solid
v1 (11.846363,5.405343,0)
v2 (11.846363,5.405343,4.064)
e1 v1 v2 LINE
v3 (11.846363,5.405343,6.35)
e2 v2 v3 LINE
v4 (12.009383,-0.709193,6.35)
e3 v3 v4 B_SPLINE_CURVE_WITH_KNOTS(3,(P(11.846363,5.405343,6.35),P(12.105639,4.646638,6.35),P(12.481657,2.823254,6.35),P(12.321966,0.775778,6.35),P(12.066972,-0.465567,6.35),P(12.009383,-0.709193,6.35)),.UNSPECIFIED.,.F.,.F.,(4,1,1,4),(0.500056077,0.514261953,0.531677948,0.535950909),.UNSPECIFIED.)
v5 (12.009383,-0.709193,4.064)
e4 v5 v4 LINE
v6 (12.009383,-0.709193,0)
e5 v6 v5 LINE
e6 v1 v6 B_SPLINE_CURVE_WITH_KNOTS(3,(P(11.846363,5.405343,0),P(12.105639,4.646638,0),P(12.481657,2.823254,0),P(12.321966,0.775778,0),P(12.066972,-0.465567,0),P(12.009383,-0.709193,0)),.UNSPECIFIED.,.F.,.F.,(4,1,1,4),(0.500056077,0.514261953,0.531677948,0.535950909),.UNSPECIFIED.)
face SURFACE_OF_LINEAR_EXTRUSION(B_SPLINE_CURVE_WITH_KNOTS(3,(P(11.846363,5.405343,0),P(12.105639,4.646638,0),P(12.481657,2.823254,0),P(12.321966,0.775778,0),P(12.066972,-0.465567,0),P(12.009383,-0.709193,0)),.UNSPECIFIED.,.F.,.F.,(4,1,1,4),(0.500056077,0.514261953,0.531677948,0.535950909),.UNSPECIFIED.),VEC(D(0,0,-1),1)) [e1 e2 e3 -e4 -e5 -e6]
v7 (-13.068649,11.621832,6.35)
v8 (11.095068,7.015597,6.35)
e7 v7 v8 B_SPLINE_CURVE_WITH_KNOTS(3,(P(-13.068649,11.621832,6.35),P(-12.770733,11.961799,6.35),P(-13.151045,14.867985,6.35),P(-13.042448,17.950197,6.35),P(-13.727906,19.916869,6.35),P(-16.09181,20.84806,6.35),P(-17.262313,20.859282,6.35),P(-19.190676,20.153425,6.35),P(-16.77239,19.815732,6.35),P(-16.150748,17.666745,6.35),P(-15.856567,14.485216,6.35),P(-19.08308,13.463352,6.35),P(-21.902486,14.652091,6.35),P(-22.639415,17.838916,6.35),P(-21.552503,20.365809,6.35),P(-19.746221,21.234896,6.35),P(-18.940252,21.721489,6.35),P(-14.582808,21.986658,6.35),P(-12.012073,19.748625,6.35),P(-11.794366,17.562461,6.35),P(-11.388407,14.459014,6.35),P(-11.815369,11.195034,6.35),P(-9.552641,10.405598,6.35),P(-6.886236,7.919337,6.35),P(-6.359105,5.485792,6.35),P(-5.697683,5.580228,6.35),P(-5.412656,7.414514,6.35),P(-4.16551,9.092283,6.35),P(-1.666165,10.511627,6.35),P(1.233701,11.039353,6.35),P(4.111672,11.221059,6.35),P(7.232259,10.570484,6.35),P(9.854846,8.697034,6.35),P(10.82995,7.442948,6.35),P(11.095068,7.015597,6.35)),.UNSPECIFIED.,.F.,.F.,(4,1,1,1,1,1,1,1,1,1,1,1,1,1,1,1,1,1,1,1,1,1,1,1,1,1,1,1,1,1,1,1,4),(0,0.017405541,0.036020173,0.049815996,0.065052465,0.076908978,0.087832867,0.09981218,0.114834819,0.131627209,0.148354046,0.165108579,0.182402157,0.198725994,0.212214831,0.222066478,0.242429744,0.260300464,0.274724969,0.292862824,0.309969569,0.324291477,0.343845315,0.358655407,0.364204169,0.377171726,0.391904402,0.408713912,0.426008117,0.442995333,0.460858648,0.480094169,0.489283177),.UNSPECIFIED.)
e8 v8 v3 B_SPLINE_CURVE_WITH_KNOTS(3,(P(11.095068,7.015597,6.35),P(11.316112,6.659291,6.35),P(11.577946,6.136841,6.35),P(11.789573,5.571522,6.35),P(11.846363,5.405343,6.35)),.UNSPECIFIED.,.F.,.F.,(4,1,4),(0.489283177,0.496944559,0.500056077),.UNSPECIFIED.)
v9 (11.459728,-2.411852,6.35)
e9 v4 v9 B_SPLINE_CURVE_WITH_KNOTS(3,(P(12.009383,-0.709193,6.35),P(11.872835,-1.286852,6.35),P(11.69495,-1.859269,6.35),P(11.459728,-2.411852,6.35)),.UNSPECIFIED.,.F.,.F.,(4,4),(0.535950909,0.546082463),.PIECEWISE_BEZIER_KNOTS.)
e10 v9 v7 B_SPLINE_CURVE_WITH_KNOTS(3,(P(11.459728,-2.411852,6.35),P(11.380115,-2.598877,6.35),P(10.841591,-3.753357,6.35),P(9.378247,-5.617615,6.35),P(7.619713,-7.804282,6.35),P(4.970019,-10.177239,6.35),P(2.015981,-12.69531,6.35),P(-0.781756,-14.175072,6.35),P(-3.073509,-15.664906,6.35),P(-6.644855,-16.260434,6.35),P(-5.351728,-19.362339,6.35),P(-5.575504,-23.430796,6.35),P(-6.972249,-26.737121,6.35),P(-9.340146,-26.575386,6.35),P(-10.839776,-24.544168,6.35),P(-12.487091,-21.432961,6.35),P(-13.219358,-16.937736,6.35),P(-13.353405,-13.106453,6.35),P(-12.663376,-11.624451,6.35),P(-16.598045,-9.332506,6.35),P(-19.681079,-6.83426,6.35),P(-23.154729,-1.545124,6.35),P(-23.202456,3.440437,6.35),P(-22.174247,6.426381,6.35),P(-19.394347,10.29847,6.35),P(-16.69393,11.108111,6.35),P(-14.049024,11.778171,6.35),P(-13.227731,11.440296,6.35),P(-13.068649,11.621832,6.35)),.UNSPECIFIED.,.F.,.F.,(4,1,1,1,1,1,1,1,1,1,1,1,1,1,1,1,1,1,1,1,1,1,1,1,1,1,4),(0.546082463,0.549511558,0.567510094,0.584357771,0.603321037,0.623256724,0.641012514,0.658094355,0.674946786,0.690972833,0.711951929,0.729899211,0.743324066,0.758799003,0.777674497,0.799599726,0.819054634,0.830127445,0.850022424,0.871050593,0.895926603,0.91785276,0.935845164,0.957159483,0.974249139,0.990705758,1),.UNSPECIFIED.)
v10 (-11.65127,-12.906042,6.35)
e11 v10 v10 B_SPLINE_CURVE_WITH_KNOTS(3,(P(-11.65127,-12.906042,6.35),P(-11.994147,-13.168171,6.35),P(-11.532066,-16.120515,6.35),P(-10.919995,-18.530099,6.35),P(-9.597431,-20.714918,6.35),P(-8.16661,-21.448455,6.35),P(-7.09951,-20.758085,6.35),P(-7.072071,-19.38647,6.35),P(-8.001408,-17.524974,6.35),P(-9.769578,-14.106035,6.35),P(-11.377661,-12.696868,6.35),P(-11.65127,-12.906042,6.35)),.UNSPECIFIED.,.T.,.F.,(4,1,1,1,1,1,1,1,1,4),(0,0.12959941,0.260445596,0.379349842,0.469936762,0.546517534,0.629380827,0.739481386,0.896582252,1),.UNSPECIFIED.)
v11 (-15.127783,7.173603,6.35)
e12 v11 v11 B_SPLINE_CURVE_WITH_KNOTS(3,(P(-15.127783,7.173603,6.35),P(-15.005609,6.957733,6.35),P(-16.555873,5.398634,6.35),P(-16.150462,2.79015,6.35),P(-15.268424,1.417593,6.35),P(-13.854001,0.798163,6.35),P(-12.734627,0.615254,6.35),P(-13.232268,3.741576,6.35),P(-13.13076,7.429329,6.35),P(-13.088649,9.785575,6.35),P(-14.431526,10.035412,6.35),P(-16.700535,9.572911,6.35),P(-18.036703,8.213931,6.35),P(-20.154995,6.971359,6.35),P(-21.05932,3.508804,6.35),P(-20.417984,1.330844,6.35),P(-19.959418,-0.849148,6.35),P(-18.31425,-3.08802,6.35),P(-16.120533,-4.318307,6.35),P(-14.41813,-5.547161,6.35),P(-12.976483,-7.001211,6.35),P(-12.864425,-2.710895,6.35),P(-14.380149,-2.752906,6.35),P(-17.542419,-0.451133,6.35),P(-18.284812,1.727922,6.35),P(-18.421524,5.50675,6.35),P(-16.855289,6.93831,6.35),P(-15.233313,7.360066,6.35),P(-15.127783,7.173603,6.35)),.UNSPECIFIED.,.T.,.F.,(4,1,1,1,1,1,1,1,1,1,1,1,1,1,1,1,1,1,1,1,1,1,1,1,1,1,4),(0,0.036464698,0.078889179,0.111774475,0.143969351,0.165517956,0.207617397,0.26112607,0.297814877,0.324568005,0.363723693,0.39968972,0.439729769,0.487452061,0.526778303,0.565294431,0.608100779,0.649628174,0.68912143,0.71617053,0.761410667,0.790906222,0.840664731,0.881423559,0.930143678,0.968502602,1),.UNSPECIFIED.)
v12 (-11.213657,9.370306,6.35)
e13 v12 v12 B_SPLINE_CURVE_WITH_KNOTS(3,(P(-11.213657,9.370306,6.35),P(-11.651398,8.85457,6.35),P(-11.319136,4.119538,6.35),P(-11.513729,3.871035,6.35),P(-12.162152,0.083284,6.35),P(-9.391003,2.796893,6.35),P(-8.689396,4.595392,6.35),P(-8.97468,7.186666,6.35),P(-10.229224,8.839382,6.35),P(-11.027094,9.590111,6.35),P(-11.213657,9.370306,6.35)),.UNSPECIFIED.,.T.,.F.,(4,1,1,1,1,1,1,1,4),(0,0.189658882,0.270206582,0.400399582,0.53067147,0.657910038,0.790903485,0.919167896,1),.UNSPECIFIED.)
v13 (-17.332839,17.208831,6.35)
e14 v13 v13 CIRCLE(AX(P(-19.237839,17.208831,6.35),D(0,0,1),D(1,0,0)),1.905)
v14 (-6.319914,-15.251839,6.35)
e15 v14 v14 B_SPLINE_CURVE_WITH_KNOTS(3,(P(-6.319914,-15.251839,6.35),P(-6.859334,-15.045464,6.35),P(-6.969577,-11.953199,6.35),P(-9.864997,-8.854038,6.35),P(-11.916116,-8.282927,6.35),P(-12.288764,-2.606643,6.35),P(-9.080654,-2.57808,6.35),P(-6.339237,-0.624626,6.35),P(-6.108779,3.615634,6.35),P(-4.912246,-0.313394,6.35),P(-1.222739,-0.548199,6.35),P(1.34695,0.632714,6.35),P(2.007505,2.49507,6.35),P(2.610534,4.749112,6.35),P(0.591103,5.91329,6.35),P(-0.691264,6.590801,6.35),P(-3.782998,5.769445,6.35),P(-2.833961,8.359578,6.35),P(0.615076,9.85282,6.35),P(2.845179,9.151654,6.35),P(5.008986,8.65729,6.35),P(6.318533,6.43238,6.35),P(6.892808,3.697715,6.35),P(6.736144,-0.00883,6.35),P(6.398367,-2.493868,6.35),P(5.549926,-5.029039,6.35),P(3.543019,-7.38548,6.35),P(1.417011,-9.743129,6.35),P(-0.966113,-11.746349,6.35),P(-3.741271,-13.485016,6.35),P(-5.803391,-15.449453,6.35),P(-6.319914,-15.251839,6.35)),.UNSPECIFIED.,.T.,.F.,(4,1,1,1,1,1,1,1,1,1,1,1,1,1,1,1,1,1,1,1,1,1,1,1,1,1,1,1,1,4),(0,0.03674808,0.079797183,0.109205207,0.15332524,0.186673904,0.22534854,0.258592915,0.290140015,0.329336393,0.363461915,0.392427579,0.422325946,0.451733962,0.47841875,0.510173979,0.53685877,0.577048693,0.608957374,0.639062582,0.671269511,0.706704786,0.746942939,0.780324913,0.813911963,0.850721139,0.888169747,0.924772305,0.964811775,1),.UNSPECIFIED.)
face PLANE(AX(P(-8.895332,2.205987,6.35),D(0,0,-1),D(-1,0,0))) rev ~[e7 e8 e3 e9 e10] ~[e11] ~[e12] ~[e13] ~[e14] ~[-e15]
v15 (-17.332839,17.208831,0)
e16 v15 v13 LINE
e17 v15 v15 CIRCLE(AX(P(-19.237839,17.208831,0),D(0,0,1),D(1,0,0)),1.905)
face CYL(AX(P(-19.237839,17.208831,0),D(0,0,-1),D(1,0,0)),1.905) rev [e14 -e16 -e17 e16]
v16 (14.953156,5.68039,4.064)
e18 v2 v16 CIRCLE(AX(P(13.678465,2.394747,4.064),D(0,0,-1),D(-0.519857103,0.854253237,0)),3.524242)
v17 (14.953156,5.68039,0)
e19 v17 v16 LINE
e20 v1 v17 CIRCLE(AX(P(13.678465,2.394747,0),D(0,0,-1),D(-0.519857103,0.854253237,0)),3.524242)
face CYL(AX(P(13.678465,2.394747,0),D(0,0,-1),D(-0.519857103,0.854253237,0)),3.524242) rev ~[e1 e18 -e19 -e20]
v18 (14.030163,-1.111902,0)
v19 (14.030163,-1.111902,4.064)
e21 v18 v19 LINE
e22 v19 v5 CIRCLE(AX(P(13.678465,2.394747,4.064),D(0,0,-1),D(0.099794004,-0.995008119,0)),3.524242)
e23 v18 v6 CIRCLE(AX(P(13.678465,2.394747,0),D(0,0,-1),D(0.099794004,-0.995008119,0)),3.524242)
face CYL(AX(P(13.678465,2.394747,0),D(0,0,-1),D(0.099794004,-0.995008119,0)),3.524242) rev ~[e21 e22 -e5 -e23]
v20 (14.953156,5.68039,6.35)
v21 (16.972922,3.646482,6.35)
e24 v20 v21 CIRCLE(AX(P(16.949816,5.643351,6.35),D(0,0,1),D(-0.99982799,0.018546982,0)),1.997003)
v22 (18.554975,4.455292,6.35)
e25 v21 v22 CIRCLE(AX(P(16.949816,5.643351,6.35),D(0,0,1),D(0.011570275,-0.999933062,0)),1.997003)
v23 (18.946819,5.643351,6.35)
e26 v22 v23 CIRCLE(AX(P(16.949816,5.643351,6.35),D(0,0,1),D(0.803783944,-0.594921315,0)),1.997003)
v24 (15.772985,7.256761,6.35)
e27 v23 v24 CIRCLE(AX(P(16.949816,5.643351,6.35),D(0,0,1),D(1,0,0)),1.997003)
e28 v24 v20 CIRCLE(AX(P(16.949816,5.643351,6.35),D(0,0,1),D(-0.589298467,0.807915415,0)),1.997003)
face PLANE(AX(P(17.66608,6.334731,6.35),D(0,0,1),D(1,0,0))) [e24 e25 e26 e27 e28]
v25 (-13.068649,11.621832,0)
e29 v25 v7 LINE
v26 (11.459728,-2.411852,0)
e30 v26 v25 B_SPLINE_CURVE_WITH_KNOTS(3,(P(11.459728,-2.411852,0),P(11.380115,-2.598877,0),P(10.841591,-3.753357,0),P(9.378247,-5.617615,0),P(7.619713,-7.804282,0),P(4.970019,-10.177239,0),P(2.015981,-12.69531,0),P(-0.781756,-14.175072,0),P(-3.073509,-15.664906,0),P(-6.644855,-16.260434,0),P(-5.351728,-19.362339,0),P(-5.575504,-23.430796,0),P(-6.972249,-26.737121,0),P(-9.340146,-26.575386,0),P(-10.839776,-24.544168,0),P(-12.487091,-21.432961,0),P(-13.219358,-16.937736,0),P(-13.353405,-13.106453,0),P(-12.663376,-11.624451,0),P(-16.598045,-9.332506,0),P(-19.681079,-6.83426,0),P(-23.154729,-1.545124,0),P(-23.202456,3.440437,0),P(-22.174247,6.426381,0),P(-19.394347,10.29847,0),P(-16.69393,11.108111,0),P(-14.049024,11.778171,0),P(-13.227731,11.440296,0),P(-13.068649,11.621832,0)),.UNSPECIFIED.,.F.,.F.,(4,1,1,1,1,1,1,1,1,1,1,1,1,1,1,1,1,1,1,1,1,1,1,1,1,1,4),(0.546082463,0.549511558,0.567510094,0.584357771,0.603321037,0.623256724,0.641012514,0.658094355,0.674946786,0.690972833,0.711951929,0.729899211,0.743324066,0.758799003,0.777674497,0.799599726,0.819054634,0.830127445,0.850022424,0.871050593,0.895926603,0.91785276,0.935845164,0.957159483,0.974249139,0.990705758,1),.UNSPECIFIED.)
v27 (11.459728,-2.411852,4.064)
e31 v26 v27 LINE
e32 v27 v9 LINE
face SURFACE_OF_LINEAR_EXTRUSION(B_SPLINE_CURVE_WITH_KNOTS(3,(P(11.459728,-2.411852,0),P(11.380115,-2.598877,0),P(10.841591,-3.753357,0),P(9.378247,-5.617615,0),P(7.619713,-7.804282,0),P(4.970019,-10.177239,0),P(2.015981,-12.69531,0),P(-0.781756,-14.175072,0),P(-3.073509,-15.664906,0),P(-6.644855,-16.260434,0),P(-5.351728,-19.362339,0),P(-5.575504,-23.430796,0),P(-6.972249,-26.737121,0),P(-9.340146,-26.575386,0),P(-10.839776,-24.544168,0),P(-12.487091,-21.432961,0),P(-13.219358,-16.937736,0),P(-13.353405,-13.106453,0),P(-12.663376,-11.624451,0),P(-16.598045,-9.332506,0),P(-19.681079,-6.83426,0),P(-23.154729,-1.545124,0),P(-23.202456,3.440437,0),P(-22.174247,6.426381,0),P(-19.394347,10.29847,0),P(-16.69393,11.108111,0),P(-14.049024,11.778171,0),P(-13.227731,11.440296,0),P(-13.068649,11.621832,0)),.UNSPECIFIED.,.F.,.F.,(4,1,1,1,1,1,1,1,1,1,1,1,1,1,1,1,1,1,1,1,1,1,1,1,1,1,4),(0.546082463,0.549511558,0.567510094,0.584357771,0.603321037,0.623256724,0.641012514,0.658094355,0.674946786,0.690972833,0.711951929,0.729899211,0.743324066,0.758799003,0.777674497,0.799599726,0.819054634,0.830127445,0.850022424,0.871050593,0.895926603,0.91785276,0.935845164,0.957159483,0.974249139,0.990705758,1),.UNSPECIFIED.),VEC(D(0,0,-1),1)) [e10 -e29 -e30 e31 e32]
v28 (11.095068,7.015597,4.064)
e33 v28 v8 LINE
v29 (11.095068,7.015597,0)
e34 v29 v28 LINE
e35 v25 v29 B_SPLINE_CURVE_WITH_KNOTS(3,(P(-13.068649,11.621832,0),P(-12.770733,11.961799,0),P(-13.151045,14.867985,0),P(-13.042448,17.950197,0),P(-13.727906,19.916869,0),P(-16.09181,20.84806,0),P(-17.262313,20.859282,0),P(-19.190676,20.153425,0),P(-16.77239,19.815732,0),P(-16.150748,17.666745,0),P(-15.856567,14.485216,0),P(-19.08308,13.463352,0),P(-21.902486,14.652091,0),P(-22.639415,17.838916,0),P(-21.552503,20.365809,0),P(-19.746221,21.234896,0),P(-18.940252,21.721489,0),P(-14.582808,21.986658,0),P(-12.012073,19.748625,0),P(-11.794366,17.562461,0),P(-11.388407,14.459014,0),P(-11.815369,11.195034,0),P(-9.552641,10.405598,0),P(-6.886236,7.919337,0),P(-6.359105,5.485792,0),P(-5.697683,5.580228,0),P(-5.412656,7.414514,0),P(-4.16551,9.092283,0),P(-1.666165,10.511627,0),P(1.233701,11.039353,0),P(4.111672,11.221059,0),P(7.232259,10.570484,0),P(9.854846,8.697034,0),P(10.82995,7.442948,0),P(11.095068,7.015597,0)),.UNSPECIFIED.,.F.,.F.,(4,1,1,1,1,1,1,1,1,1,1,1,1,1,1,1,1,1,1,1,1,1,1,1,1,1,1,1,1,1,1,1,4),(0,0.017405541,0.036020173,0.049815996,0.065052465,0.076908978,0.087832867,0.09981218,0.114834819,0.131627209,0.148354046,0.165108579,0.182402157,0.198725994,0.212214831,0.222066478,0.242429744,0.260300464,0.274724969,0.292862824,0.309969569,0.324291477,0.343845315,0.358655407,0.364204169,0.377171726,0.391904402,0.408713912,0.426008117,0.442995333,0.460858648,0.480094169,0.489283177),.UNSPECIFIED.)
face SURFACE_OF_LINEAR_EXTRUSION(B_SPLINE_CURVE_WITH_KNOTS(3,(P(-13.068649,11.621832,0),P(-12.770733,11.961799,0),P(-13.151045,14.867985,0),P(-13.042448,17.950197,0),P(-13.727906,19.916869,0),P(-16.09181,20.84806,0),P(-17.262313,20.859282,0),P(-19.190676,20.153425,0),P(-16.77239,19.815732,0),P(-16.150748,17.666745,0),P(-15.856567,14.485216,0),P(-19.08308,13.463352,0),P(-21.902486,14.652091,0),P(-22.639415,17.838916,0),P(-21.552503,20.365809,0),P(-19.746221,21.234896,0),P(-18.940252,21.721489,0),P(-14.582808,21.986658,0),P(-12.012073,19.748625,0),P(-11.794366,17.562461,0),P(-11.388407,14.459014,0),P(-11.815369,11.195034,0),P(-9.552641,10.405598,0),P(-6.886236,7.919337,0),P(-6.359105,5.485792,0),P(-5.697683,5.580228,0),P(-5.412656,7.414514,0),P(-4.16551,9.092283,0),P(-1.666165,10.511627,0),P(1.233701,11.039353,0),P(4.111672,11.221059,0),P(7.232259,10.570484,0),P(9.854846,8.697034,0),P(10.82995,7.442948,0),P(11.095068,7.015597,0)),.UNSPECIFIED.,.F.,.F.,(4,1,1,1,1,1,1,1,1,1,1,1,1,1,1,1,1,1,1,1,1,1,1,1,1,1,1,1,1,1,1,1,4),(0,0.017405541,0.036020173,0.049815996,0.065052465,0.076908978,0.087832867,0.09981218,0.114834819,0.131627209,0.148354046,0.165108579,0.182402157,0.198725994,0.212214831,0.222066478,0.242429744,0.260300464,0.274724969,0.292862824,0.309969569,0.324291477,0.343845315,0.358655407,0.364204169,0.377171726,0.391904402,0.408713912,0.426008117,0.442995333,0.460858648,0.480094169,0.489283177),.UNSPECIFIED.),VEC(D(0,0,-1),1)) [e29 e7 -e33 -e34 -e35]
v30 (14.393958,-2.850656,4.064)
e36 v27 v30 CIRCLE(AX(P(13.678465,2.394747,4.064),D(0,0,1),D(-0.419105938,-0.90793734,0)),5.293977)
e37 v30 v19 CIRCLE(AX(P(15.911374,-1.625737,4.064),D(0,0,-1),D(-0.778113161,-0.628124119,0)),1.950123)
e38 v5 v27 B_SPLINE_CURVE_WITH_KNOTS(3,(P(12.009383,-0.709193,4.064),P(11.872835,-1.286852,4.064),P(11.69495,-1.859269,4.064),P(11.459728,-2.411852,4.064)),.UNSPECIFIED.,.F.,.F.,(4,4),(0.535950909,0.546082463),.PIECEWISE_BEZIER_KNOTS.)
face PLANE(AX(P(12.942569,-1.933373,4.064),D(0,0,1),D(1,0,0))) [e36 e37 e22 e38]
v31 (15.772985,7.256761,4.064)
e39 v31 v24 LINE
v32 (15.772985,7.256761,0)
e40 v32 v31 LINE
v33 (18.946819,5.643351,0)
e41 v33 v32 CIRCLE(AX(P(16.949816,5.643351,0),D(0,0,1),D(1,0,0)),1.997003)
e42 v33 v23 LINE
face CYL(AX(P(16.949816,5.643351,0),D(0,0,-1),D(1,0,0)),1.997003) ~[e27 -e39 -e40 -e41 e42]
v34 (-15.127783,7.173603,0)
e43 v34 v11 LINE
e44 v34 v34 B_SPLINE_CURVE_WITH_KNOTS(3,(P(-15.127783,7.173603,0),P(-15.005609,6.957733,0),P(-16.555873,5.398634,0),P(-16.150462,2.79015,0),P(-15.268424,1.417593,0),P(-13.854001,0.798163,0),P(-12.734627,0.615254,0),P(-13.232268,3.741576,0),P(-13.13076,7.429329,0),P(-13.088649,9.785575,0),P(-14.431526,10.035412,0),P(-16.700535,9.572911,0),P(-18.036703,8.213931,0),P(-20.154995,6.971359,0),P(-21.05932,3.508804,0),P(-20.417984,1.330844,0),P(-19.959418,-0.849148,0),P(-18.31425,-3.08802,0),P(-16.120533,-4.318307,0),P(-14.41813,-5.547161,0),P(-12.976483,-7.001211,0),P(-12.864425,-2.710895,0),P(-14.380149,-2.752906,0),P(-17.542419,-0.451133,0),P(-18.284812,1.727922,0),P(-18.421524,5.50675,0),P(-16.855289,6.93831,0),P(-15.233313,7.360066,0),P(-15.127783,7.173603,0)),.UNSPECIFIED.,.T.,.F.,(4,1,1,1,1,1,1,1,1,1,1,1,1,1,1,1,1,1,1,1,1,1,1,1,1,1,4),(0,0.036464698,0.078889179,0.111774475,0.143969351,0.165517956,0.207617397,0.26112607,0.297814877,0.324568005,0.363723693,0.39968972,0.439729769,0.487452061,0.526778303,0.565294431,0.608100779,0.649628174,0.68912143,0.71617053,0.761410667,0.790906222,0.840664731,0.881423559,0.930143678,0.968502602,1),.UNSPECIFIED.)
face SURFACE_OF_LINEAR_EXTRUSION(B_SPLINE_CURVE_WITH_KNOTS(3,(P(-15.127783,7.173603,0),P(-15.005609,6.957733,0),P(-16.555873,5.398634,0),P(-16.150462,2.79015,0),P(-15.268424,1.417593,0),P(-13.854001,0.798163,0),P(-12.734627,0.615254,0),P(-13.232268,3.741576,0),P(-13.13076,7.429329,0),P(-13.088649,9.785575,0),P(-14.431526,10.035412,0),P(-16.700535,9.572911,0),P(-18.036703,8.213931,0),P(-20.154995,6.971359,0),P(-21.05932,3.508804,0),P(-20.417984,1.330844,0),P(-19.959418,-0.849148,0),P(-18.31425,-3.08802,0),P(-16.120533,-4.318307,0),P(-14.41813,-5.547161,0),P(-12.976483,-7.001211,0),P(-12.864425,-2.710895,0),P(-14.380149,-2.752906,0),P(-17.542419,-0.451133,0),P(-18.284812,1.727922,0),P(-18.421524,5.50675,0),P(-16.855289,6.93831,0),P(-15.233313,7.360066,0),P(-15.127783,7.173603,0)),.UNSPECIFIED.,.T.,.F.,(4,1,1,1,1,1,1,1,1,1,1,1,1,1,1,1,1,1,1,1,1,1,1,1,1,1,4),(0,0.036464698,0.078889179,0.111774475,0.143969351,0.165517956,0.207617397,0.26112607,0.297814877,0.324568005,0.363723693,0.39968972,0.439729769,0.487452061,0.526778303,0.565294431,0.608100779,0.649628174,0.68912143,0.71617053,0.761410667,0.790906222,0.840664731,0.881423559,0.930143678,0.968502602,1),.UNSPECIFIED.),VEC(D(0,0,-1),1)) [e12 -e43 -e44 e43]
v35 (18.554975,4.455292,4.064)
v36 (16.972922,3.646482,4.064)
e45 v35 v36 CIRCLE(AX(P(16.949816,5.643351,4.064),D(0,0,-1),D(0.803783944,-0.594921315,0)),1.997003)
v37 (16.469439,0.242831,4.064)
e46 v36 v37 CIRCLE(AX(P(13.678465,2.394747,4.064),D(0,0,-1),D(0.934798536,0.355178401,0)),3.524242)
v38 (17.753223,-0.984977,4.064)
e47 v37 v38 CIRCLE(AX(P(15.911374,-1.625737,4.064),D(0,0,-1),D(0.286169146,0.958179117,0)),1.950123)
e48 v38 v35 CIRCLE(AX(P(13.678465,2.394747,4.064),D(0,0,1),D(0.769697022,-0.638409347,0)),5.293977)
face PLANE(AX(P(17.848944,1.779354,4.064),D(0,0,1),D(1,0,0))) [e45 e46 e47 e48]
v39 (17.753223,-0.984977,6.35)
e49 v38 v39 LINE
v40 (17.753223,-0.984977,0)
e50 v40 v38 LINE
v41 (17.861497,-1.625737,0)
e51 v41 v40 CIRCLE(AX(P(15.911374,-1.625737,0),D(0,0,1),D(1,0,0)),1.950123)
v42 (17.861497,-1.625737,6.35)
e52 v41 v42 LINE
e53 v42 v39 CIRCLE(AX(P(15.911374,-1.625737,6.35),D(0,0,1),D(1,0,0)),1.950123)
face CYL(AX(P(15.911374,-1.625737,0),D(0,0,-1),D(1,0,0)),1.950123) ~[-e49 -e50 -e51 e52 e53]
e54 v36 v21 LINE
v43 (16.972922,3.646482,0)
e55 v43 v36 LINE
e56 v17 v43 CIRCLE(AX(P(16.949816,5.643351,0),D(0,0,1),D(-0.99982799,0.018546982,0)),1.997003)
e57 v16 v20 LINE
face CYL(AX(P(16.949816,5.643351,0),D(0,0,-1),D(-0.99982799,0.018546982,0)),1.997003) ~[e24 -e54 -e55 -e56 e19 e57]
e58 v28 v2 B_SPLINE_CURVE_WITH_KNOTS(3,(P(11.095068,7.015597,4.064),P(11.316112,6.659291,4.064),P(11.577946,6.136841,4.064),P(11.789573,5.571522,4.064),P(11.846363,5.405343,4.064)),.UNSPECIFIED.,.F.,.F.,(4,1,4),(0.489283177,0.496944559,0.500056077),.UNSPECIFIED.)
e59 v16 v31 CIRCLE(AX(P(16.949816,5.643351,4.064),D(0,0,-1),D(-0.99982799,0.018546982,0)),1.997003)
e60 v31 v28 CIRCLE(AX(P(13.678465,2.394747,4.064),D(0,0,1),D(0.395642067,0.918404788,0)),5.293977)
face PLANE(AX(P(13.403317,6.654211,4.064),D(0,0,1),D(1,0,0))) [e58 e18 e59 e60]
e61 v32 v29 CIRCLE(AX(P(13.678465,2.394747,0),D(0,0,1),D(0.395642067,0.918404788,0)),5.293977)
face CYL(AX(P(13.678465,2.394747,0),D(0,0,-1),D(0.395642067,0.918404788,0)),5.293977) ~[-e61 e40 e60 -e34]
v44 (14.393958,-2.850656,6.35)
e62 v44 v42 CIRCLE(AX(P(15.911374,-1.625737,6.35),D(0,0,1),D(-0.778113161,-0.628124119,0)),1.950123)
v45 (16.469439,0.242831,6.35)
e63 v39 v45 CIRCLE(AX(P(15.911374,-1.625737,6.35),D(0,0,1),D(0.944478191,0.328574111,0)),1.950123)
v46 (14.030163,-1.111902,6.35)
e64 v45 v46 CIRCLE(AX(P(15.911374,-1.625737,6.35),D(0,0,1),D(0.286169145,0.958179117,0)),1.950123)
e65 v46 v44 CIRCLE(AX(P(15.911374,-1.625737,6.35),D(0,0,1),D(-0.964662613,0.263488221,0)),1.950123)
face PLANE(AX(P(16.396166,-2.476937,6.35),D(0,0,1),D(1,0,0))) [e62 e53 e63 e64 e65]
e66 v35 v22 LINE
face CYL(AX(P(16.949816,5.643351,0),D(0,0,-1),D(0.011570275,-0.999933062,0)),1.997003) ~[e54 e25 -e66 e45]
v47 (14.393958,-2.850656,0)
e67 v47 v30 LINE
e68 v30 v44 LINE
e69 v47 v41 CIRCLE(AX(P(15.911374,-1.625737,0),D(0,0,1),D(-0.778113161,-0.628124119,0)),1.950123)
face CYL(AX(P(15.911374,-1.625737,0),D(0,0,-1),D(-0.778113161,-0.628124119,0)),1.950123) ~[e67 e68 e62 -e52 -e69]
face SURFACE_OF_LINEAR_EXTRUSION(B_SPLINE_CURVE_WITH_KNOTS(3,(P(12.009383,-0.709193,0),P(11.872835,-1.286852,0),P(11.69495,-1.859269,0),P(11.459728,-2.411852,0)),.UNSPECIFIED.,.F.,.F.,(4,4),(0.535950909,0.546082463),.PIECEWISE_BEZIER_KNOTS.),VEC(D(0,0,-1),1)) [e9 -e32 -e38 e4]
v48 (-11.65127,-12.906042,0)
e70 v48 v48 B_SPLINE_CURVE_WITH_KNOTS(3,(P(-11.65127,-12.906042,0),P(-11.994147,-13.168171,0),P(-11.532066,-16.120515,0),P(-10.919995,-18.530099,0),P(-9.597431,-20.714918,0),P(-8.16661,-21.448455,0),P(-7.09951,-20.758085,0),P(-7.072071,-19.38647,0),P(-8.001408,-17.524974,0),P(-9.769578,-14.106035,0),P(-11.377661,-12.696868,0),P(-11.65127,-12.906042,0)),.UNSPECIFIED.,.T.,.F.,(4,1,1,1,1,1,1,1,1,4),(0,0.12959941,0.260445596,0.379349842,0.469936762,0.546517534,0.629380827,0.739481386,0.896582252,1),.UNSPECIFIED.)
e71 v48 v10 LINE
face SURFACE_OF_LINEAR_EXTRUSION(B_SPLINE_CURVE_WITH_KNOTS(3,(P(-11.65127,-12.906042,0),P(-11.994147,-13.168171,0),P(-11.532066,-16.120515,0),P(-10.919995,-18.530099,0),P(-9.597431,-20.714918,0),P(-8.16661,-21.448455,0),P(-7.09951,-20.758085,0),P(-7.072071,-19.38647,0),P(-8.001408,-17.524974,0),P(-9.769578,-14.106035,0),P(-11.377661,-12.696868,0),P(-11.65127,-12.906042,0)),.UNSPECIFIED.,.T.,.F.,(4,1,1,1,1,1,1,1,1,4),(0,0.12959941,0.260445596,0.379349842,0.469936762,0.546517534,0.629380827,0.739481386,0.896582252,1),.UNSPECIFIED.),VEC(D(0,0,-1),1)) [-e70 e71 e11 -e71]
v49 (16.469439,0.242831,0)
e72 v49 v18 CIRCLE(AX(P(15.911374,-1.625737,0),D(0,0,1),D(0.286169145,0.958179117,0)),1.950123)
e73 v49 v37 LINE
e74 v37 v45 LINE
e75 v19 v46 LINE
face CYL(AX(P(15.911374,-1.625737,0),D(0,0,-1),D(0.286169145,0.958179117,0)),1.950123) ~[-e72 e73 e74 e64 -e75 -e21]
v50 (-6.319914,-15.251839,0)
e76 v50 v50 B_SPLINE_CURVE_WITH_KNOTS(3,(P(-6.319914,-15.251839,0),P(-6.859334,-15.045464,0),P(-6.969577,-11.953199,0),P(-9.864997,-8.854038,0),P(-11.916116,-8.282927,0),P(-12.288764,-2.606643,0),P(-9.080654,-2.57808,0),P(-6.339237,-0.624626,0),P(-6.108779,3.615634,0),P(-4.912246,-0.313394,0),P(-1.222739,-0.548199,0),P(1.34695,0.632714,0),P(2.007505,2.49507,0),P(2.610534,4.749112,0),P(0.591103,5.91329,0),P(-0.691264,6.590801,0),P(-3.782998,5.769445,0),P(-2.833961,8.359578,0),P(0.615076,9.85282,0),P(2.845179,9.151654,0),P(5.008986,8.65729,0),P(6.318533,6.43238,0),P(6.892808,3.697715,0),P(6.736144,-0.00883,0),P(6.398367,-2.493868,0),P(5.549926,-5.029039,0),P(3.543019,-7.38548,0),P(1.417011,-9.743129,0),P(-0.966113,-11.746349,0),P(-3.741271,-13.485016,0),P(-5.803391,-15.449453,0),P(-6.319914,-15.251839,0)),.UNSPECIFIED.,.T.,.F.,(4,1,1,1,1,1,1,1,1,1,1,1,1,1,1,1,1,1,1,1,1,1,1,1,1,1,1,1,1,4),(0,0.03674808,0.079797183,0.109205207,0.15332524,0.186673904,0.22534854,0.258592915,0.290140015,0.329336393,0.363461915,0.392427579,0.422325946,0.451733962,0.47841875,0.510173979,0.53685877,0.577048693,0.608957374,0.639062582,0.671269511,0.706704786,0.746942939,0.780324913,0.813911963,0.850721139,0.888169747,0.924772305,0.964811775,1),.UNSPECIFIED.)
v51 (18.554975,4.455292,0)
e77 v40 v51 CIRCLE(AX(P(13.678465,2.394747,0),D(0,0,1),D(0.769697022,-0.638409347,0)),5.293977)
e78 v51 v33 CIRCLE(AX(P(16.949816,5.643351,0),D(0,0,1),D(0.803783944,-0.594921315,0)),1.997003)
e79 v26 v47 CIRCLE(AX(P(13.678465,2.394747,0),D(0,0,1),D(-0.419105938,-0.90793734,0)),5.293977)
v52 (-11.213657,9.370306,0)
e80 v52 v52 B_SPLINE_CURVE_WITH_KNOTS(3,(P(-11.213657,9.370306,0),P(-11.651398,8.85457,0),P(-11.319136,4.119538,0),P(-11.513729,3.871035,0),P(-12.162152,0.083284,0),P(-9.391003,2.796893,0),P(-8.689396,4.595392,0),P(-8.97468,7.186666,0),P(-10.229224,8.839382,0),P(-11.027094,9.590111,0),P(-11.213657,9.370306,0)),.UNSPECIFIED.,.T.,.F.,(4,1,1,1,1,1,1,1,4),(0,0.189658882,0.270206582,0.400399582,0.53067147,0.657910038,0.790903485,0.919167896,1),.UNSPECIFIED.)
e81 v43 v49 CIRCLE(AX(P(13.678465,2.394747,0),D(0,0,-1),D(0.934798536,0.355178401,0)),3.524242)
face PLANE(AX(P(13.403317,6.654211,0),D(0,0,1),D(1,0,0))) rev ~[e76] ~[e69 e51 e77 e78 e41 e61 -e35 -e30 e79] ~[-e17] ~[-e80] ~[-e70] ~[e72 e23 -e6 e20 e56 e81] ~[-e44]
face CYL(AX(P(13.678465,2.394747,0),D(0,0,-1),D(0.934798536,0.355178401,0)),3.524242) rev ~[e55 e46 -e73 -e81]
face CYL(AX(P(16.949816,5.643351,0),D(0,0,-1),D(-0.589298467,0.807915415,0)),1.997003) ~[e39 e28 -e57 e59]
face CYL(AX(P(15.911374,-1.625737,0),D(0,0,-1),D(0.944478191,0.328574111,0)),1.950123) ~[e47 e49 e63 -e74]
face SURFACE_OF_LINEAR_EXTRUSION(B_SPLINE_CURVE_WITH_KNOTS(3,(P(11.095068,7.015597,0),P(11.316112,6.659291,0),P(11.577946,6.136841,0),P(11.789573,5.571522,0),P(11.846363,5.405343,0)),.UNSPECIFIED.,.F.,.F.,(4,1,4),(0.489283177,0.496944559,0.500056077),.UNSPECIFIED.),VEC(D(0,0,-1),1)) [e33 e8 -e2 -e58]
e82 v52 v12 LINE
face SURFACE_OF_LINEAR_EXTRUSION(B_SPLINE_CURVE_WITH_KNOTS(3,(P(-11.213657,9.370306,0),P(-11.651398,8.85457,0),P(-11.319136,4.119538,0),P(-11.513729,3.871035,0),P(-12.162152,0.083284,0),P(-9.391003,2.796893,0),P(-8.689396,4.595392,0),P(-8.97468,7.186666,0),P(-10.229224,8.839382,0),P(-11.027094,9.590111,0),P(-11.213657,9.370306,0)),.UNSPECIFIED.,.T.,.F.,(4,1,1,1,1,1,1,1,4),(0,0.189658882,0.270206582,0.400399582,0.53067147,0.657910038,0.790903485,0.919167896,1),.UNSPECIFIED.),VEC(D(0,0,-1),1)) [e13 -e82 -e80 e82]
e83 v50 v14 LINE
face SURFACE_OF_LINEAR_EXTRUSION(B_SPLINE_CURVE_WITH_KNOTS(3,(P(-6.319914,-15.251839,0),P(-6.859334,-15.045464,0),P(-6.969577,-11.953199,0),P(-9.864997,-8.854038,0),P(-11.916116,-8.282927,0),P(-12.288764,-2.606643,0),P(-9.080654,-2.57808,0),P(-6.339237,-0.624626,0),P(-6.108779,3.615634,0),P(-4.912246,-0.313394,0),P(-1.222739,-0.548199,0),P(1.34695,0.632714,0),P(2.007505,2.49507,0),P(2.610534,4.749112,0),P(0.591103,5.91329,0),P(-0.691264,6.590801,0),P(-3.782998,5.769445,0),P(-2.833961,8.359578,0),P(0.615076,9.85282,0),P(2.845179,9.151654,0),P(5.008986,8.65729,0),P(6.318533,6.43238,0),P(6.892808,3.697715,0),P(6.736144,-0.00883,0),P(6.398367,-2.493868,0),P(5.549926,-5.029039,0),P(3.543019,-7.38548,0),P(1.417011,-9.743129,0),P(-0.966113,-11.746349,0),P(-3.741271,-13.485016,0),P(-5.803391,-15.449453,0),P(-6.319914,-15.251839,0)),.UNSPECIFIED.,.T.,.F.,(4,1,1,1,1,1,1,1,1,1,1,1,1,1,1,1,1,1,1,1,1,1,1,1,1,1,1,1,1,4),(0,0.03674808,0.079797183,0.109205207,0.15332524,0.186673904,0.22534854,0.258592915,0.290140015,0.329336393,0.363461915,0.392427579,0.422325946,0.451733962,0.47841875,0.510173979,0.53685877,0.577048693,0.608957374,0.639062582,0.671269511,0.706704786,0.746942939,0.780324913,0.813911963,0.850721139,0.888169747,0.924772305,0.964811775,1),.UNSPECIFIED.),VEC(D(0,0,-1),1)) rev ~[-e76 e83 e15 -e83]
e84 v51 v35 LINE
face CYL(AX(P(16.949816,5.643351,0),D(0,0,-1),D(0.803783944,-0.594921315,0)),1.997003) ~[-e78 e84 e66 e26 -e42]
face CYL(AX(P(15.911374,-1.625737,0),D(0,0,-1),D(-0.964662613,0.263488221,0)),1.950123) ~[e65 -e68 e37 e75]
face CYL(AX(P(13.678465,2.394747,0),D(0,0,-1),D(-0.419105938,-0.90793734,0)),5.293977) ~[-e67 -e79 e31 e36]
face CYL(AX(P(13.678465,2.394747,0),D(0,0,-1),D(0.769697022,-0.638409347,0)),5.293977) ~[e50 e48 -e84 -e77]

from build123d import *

# Parameters (mm, degrees)
F0_R     = 1.905
F1_DEPTH = 6.35
F2_DEPTH = 4.064


with BuildPart() as f1:
    # F0 (on Top) → F1 (new body)
    with BuildSketch(Plane.XY):
        with BuildLine():
            add(Edge.make_bspline(
                [(-13.0686489865, 11.6218319163), (-12.7707330076, 11.961798695), (-13.1510446007, 14.8679853831), (-13.0424482701, 17.9501966027), (-13.727905646, 19.9168686636), (-16.0918095447, 20.8480597025), (-17.2623130573, 20.8592815915), (-19.1906763862, 20.1534250339), (-16.7723895054, 19.8157318864), (-16.1507483292, 17.6667445326), (-15.8565671423, 14.4852164796), (-19.0830796184, 13.4633520878), (-21.9024858498, 14.6520913597), (-22.639414685, 17.8389155952), (-21.552502801, 20.3658088456), (-19.7462208625, 21.2348963002), (-18.9402522512, 21.7214886395), (-14.5828082764, 21.9866575573), (-12.0120729222, 19.7486253219), (-11.7943656291, 17.5624606189), (-11.3884073963, 14.4590138313), (-11.8153693787, 11.1950337983), (-9.5526412523, 10.4055979731), (-6.886236355, 7.9193365313), (-6.3591051489, 5.48579156), (-5.6976828179, 5.5802281906), (-5.4126557087, 7.4145140879), (-4.1655100341, 9.0922831468), (-1.6661650496, 10.5116266525), (1.233701337, 11.0393527576), (4.1116716879, 11.2210594468), (7.2322592185, 10.5704836127), (9.8548458465, 8.6970342261), (10.8299503671, 7.4429476047), (11.0950684281, 7.015597002)],
                knots=[0, 0, 0, 0, 0.0174055412, 0.0360201727, 0.0498159963, 0.0650524651, 0.0769089776, 0.0878328669, 0.0998121797, 0.1148348188, 0.1316272092, 0.1483540463, 0.1651085789, 0.1824021566, 0.1987259941, 0.2122148314, 0.2220664777, 0.2424297438, 0.2603004645, 0.2747249693, 0.2928628236, 0.309969569, 0.3242914765, 0.3438453151, 0.3586554069, 0.3642041694, 0.3771717261, 0.3919044019, 0.4087139116, 0.4260081171, 0.442995333, 0.4608586478, 0.4800941687, 0.4892831772, 0.4892831772, 0.4892831772, 0.4892831772], degree=3))
            add(Edge.make_bspline(
                [(11.4597279959, -2.4118516051), (11.3801153672, -2.5988769232), (10.8415906764, -3.7533572985), (9.3782470502, -5.6176152362), (7.6197128741, -7.8042819073), (4.9700188396, -10.1772388926), (2.0159809222, -12.6953096881), (-0.7817555096, -14.1750721076), (-3.0735086367, -15.6649063041), (-6.6448545126, -16.2604339945), (-5.3517281249, -19.3623385219), (-5.5755042332, -23.4307961024), (-6.9722488348, -26.7371207582), (-9.3401460238, -26.5753856706), (-10.8397763768, -24.5441683261), (-12.4870908457, -21.432961057), (-13.2193584866, -16.9377361119), (-13.3534050362, -13.1064532395), (-12.6633761563, -11.6244508266), (-16.5980449076, -9.3325064599), (-19.6810790288, -6.8342604871), (-23.1547289411, -1.5451237152), (-23.202456029, 3.4404371704), (-22.1742470854, 6.426380904), (-19.3943471923, 10.2984697231), (-16.6939297674, 11.1081112535), (-14.0490237493, 11.7781712589), (-13.2277306845, 11.4402958582), (-13.0686489865, 11.6218319163)],
                knots=[0.5460824632, 0.5460824632, 0.5460824632, 0.5460824632, 0.549511558, 0.5675100943, 0.5843577714, 0.6033210365, 0.6232567239, 0.641012514, 0.6580943552, 0.6749467864, 0.6909728326, 0.7119519288, 0.7298992113, 0.743324066, 0.7587990032, 0.7776744973, 0.799599726, 0.8190546342, 0.8301274451, 0.8500224241, 0.8710505929, 0.8959266034, 0.9178527602, 0.9358451637, 0.9571594825, 0.9742491387, 0.9907057585, 1, 1, 1, 1], degree=3))
            add(Edge.make_bspline(
                [(12.0093829859, -0.7091933699), (11.8728345677, -1.286852004), (11.6949503278, -1.8592692802), (11.4597279959, -2.4118516051)],
                knots=[0.5359509089, 0.5359509089, 0.5359509089, 0.5359509089, 0.5460824632, 0.5460824632, 0.5460824632, 0.5460824632], degree=3))
            add(Edge.make_bspline(
                [(11.8463626646, 5.4053428165), (12.1056389146, 4.6466382374), (12.4816565418, 2.8232541921), (12.321965699, 0.7757781398), (12.0669719872, -0.4655670846), (12.0093829859, -0.7091933699)],
                knots=[0.5000560772, 0.5000560772, 0.5000560772, 0.5000560772, 0.5142619534, 0.5316779477, 0.5359509089, 0.5359509089, 0.5359509089, 0.5359509089], degree=3))
            add(Edge.make_bspline(
                [(11.0950684281, 7.015597002), (11.3161119517, 6.6592912767), (11.5779458047, 6.1368405532), (11.7895733016, 5.5715221321), (11.8463626646, 5.4053428165)],
                knots=[0.4892831772, 0.4892831772, 0.4892831772, 0.4892831772, 0.4969445595, 0.5000560772, 0.5000560772, 0.5000560772, 0.5000560772], degree=3))
        make_face()
        with BuildLine():
            add(Edge.make_bspline(
                [(-11.6512700915, -12.9060419276), (-11.9941468043, -13.1681710536), (-11.5320664777, -16.1205152908), (-10.9199947216, -18.5300988368), (-9.597431014, -20.714917878), (-8.1666103116, -21.4484548164), (-7.0995100758, -20.7580851205), (-7.0720709083, -19.3864704003), (-8.0014077681, -17.5249735483), (-9.7695779559, -14.1060350316), (-11.3776613031, -12.6968681054), (-11.6512700915, -12.9060419276)],
                knots=[0, 0, 0, 0, 0.1295994097, 0.2604455958, 0.3793498417, 0.4699367619, 0.5465175339, 0.6293808269, 0.7394813862, 0.896582252, 1, 1, 1, 1], degree=3))
        make_face(mode=Mode.SUBTRACT)
        with BuildLine():
            add(Edge.make_bspline(
                [(-6.3199140131, -15.2518386021), (-6.8593336291, -15.045464478), (-6.9695773684, -11.9531994053), (-9.8649973588, -8.8540384181), (-11.9161160424, -8.2829265335), (-12.288764129, -2.6066430249), (-9.0806541646, -2.5780797933), (-6.3392370923, -0.6246257895), (-6.1087788053, 3.615634008), (-4.9122455372, -0.3133942048), (-1.222739141, -0.5481987236), (1.3469504829, 0.6327144061), (2.0075048028, 2.4950696166), (2.6105338, 4.7491119398), (0.5911029061, 5.9132897747), (-0.6912636487, 6.5908014949), (-3.7829979831, 5.7694448939), (-2.8339605437, 8.3595775213), (0.6150763545, 9.8528204056), (2.8451794906, 9.1516540061), (5.0089863324, 8.6572904049), (6.3185328043, 6.4323801531), (6.8928079508, 3.6977151001), (6.7361435566, -0.0088301254), (6.3983668063, -2.49386758), (5.5499256641, -5.0290393191), (3.5430185466, -7.3854801384), (1.417011187, -9.7431285513), (-0.9661134496, -11.7463490865), (-3.7412707511, -13.4850162448), (-5.8033912793, -15.4494527111), (-6.3199140131, -15.2518386021)],
                knots=[0, 0, 0, 0, 0.0367480799, 0.0797971829, 0.1092052072, 0.15332524, 0.1866739045, 0.22534854, 0.2585929149, 0.2901400147, 0.3293363935, 0.3634619148, 0.3924275789, 0.4223259456, 0.451733962, 0.4784187504, 0.5101739794, 0.5368587701, 0.5770486926, 0.608957374, 0.6390625819, 0.6712695106, 0.7067047864, 0.7469429386, 0.7803249129, 0.8139119634, 0.850721139, 0.8881697465, 0.9247723049, 0.9648117752, 1, 1, 1, 1], degree=3))
        make_face(mode=Mode.SUBTRACT)
        with BuildLine():
            add(Edge.make_bspline(
                [(-15.1277827099, 7.1736029349), (-15.0056093076, 6.9577332912), (-16.5558726976, 5.3986340723), (-16.1504621438, 2.7901502426), (-15.2684237613, 1.4175927395), (-13.85400103, 0.7981625476), (-12.7346268175, 0.6152542547), (-13.2322675757, 3.7415759168), (-13.1307600013, 7.4293288525), (-13.0886486581, 9.7855748474), (-14.4315260528, 10.0354121912), (-16.7005347728, 9.5729110347), (-18.0367032607, 8.213930896), (-20.1549953784, 6.971358812), (-21.0593200446, 3.5088042097), (-20.4179841431, 1.33084421), (-19.9594183886, -0.8491484934), (-18.3142495151, -3.0880201367), (-16.1205334344, -4.318306911), (-14.418130418, -5.5471613209), (-12.9764827126, -7.0012105866), (-12.8644247041, -2.7108947452), (-14.380148848, -2.7529063392), (-17.5424193631, -0.4511327674), (-18.2848119967, 1.7279221376), (-18.4215235365, 5.5067497663), (-16.8552891086, 6.9383100498), (-15.2333133888, 7.3600663519), (-15.1277827099, 7.1736029349)],
                knots=[0, 0, 0, 0, 0.0364646976, 0.0788891786, 0.1117744755, 0.1439693508, 0.165517956, 0.2076173974, 0.2611260696, 0.2978148768, 0.3245680045, 0.3637236926, 0.3996897196, 0.4397297688, 0.4874520606, 0.5267783033, 0.565294431, 0.6081007788, 0.6496281737, 0.6891214302, 0.7161705298, 0.7614106674, 0.7909062222, 0.8406647315, 0.881423559, 0.9301436777, 0.9685026018, 1, 1, 1, 1], degree=3))
        make_face(mode=Mode.SUBTRACT)
        with BuildLine():
            add(Edge.make_bspline(
                [(-11.2136574462, 9.3703055754), (-11.6513975829, 8.8545701437), (-11.3191358553, 4.119537716), (-11.5137287981, 3.8710349732), (-12.1621521498, 0.0832837894), (-9.3910031023, 2.7968929016), (-8.6893962792, 4.5953920409), (-8.9746796231, 7.1866660965), (-10.2292240733, 8.8393817463), (-11.027093781, 9.5901106249), (-11.2136574462, 9.3703055754)],
                knots=[0, 0, 0, 0, 0.1896588816, 0.2702065822, 0.400399582, 0.5306714703, 0.6579100379, 0.7909034848, 0.9191678964, 1, 1, 1, 1], degree=3))
        make_face(mode=Mode.SUBTRACT)
        with Locations((-19.2378386855, 17.2088313848)):
            Circle(F0_R, mode=Mode.SUBTRACT)
    extrude(amount=F1_DEPTH)



with BuildPart() as f1b:
    # F0 (on Top) → F1, piece 2 (new body)
    with BuildSketch(Plane.XY):
        with BuildLine():
            ThreePointArc((18.9468186349, 5.6433514692), (17.854770444, 7.4235418204), (15.7729848939, 7.2567609431))
            ThreePointArc((15.7729848939, 7.2567609431), (17.4349088396, 6.1250716437), (18.5549745907, 4.4552918424))
            ThreePointArc((18.5549745907, 4.4552918424), (18.8463293089, 5.0178461871), (18.9468186349, 5.6433514692))
        make_face()
        with BuildLine():
            ThreePointArc((18.5549745907, 4.4552918424), (17.4349088396, 6.1250716437), (15.7729848939, 7.2567609431))
            ThreePointArc((15.7729848939, 7.2567609431), (15.1780943295, 6.5647766105), (14.953156221, 5.6803898471))
            ThreePointArc((14.953156221, 5.6803898471), (16.1791594934, 4.8780538765), (16.97292155, 3.6464821851))
            ThreePointArc((16.97292155, 3.6464821851), (17.8588562806, 3.865244049), (18.5549745907, 4.4552918424))
        make_face()
        with BuildLine():
            ThreePointArc((16.97292155, 3.6464821851), (16.1791594934, 4.8780538765), (14.953156221, 5.6803898471))
            ThreePointArc((14.953156221, 5.6803898471), (15.5328034922, 4.2361921707), (16.97292155, 3.6464821851))
        make_face()
    extrude(amount=F1_DEPTH)


with BuildPart() as f1c:
    # F0 (on Top) → F1, piece 3 (new body)
    with BuildSketch(Plane.XY):
        with BuildLine():
            ThreePointArc((17.7532230883, -0.9849767089), (16.2488376586, -2.2333594131), (14.3939577022, -2.8506561365))
            ThreePointArc((14.3939577022, -2.8506561365), (16.560924599, -3.4645039291), (17.8614974564, -1.6257367097))
            ThreePointArc((17.8614974564, -1.6257367097), (17.8342383484, -1.3008149047), (17.7532230883, -0.9849767089))
        make_face()
        with BuildLine():
            ThreePointArc((14.0301632844, -1.1119022121), (14.0025831274, -2.0251075132), (14.3939577022, -2.8506561365))
            ThreePointArc((14.3939577022, -2.8506561365), (16.2488376586, -2.2333594131), (17.7532230883, -0.9849767089))
            ThreePointArc((17.7532230883, -0.9849767089), (17.2592519978, -0.2164084628), (16.4694393351, 0.2428306307))
            ThreePointArc((16.4694393351, 0.2428306307), (15.3895824939, -0.6862200225), (14.0301632844, -1.1119022121))
        make_face()
        with BuildLine():
            ThreePointArc((16.4694393351, 0.2428306307), (14.9645352831, 0.0791024447), (14.0301632844, -1.1119022121))
            ThreePointArc((14.0301632844, -1.1119022121), (15.3895824939, -0.6862200225), (16.4694393351, 0.2428306307))
        make_face()
    extrude(amount=F1_DEPTH)


with BuildPart() as f1_1:
    add(f1.part)

    add(f1b.part)  # F2 merges F1b

    add(f1c.part)  # F2 merges F1c
    # F0 (on Top) → F2 (join)
    with BuildSketch(Plane.XY):
        with BuildLine():
            ThreePointArc((15.7729848939, 7.2567609431), (13.4059028768, 7.6817029542), (11.0950684281, 7.015597002))
            add(Edge.make_bspline(
                [(11.0950684281, 7.015597002), (11.3161119517, 6.6592912767), (11.5779458047, 6.1368405532), (11.7895733016, 5.5715221321), (11.8463626646, 5.4053428165)],
                knots=[0.4892831772, 0.4892831772, 0.4892831772, 0.4892831772, 0.4969445595, 0.5000560772, 0.5000560772, 0.5000560772, 0.5000560772], degree=3))
            ThreePointArc((11.8463626646, 5.4053428165), (13.3676764828, 5.9052593853), (14.953156221, 5.6803898471))
            ThreePointArc((14.953156221, 5.6803898471), (15.1780943295, 6.5647766105), (15.7729848939, 7.2567609431))
        make_face()
        with BuildLine():
            ThreePointArc((17.7532230883, -0.9849767089), (18.9158716867, 1.6228924242), (18.5549745907, 4.4552918424))
            ThreePointArc((18.5549745907, 4.4552918424), (17.8588562806, 3.865244049), (16.97292155, 3.6464821851))
            ThreePointArc((16.97292155, 3.6464821851), (17.1647708206, 1.8790386845), (16.4694393351, 0.2428306307))
            ThreePointArc((16.4694393351, 0.2428306307), (17.2592519978, -0.2164084628), (17.7532230883, -0.9849767089))
        make_face()
        with BuildLine():
            add(Edge.make_bspline(
                [(12.0093829859, -0.7091933699), (11.8728345677, -1.286852004), (11.6949503278, -1.8592692802), (11.4597279959, -2.4118516051)],
                knots=[0.5359509089, 0.5359509089, 0.5359509089, 0.5359509089, 0.5460824632, 0.5460824632, 0.5460824632, 0.5460824632], degree=3))
            ThreePointArc((11.4597279959, -2.4118516051), (12.8954750833, -2.8410061029), (14.3939577022, -2.8506561365))
            ThreePointArc((14.3939577022, -2.8506561365), (14.0025831274, -2.0251075132), (14.0301632844, -1.1119022121))
            ThreePointArc((14.0301632844, -1.1119022121), (12.9896845027, -1.0615316016), (12.0093829859, -0.7091933699))
        make_face()
    extrude(amount=F2_DEPTH)


solid = f1_1.part
